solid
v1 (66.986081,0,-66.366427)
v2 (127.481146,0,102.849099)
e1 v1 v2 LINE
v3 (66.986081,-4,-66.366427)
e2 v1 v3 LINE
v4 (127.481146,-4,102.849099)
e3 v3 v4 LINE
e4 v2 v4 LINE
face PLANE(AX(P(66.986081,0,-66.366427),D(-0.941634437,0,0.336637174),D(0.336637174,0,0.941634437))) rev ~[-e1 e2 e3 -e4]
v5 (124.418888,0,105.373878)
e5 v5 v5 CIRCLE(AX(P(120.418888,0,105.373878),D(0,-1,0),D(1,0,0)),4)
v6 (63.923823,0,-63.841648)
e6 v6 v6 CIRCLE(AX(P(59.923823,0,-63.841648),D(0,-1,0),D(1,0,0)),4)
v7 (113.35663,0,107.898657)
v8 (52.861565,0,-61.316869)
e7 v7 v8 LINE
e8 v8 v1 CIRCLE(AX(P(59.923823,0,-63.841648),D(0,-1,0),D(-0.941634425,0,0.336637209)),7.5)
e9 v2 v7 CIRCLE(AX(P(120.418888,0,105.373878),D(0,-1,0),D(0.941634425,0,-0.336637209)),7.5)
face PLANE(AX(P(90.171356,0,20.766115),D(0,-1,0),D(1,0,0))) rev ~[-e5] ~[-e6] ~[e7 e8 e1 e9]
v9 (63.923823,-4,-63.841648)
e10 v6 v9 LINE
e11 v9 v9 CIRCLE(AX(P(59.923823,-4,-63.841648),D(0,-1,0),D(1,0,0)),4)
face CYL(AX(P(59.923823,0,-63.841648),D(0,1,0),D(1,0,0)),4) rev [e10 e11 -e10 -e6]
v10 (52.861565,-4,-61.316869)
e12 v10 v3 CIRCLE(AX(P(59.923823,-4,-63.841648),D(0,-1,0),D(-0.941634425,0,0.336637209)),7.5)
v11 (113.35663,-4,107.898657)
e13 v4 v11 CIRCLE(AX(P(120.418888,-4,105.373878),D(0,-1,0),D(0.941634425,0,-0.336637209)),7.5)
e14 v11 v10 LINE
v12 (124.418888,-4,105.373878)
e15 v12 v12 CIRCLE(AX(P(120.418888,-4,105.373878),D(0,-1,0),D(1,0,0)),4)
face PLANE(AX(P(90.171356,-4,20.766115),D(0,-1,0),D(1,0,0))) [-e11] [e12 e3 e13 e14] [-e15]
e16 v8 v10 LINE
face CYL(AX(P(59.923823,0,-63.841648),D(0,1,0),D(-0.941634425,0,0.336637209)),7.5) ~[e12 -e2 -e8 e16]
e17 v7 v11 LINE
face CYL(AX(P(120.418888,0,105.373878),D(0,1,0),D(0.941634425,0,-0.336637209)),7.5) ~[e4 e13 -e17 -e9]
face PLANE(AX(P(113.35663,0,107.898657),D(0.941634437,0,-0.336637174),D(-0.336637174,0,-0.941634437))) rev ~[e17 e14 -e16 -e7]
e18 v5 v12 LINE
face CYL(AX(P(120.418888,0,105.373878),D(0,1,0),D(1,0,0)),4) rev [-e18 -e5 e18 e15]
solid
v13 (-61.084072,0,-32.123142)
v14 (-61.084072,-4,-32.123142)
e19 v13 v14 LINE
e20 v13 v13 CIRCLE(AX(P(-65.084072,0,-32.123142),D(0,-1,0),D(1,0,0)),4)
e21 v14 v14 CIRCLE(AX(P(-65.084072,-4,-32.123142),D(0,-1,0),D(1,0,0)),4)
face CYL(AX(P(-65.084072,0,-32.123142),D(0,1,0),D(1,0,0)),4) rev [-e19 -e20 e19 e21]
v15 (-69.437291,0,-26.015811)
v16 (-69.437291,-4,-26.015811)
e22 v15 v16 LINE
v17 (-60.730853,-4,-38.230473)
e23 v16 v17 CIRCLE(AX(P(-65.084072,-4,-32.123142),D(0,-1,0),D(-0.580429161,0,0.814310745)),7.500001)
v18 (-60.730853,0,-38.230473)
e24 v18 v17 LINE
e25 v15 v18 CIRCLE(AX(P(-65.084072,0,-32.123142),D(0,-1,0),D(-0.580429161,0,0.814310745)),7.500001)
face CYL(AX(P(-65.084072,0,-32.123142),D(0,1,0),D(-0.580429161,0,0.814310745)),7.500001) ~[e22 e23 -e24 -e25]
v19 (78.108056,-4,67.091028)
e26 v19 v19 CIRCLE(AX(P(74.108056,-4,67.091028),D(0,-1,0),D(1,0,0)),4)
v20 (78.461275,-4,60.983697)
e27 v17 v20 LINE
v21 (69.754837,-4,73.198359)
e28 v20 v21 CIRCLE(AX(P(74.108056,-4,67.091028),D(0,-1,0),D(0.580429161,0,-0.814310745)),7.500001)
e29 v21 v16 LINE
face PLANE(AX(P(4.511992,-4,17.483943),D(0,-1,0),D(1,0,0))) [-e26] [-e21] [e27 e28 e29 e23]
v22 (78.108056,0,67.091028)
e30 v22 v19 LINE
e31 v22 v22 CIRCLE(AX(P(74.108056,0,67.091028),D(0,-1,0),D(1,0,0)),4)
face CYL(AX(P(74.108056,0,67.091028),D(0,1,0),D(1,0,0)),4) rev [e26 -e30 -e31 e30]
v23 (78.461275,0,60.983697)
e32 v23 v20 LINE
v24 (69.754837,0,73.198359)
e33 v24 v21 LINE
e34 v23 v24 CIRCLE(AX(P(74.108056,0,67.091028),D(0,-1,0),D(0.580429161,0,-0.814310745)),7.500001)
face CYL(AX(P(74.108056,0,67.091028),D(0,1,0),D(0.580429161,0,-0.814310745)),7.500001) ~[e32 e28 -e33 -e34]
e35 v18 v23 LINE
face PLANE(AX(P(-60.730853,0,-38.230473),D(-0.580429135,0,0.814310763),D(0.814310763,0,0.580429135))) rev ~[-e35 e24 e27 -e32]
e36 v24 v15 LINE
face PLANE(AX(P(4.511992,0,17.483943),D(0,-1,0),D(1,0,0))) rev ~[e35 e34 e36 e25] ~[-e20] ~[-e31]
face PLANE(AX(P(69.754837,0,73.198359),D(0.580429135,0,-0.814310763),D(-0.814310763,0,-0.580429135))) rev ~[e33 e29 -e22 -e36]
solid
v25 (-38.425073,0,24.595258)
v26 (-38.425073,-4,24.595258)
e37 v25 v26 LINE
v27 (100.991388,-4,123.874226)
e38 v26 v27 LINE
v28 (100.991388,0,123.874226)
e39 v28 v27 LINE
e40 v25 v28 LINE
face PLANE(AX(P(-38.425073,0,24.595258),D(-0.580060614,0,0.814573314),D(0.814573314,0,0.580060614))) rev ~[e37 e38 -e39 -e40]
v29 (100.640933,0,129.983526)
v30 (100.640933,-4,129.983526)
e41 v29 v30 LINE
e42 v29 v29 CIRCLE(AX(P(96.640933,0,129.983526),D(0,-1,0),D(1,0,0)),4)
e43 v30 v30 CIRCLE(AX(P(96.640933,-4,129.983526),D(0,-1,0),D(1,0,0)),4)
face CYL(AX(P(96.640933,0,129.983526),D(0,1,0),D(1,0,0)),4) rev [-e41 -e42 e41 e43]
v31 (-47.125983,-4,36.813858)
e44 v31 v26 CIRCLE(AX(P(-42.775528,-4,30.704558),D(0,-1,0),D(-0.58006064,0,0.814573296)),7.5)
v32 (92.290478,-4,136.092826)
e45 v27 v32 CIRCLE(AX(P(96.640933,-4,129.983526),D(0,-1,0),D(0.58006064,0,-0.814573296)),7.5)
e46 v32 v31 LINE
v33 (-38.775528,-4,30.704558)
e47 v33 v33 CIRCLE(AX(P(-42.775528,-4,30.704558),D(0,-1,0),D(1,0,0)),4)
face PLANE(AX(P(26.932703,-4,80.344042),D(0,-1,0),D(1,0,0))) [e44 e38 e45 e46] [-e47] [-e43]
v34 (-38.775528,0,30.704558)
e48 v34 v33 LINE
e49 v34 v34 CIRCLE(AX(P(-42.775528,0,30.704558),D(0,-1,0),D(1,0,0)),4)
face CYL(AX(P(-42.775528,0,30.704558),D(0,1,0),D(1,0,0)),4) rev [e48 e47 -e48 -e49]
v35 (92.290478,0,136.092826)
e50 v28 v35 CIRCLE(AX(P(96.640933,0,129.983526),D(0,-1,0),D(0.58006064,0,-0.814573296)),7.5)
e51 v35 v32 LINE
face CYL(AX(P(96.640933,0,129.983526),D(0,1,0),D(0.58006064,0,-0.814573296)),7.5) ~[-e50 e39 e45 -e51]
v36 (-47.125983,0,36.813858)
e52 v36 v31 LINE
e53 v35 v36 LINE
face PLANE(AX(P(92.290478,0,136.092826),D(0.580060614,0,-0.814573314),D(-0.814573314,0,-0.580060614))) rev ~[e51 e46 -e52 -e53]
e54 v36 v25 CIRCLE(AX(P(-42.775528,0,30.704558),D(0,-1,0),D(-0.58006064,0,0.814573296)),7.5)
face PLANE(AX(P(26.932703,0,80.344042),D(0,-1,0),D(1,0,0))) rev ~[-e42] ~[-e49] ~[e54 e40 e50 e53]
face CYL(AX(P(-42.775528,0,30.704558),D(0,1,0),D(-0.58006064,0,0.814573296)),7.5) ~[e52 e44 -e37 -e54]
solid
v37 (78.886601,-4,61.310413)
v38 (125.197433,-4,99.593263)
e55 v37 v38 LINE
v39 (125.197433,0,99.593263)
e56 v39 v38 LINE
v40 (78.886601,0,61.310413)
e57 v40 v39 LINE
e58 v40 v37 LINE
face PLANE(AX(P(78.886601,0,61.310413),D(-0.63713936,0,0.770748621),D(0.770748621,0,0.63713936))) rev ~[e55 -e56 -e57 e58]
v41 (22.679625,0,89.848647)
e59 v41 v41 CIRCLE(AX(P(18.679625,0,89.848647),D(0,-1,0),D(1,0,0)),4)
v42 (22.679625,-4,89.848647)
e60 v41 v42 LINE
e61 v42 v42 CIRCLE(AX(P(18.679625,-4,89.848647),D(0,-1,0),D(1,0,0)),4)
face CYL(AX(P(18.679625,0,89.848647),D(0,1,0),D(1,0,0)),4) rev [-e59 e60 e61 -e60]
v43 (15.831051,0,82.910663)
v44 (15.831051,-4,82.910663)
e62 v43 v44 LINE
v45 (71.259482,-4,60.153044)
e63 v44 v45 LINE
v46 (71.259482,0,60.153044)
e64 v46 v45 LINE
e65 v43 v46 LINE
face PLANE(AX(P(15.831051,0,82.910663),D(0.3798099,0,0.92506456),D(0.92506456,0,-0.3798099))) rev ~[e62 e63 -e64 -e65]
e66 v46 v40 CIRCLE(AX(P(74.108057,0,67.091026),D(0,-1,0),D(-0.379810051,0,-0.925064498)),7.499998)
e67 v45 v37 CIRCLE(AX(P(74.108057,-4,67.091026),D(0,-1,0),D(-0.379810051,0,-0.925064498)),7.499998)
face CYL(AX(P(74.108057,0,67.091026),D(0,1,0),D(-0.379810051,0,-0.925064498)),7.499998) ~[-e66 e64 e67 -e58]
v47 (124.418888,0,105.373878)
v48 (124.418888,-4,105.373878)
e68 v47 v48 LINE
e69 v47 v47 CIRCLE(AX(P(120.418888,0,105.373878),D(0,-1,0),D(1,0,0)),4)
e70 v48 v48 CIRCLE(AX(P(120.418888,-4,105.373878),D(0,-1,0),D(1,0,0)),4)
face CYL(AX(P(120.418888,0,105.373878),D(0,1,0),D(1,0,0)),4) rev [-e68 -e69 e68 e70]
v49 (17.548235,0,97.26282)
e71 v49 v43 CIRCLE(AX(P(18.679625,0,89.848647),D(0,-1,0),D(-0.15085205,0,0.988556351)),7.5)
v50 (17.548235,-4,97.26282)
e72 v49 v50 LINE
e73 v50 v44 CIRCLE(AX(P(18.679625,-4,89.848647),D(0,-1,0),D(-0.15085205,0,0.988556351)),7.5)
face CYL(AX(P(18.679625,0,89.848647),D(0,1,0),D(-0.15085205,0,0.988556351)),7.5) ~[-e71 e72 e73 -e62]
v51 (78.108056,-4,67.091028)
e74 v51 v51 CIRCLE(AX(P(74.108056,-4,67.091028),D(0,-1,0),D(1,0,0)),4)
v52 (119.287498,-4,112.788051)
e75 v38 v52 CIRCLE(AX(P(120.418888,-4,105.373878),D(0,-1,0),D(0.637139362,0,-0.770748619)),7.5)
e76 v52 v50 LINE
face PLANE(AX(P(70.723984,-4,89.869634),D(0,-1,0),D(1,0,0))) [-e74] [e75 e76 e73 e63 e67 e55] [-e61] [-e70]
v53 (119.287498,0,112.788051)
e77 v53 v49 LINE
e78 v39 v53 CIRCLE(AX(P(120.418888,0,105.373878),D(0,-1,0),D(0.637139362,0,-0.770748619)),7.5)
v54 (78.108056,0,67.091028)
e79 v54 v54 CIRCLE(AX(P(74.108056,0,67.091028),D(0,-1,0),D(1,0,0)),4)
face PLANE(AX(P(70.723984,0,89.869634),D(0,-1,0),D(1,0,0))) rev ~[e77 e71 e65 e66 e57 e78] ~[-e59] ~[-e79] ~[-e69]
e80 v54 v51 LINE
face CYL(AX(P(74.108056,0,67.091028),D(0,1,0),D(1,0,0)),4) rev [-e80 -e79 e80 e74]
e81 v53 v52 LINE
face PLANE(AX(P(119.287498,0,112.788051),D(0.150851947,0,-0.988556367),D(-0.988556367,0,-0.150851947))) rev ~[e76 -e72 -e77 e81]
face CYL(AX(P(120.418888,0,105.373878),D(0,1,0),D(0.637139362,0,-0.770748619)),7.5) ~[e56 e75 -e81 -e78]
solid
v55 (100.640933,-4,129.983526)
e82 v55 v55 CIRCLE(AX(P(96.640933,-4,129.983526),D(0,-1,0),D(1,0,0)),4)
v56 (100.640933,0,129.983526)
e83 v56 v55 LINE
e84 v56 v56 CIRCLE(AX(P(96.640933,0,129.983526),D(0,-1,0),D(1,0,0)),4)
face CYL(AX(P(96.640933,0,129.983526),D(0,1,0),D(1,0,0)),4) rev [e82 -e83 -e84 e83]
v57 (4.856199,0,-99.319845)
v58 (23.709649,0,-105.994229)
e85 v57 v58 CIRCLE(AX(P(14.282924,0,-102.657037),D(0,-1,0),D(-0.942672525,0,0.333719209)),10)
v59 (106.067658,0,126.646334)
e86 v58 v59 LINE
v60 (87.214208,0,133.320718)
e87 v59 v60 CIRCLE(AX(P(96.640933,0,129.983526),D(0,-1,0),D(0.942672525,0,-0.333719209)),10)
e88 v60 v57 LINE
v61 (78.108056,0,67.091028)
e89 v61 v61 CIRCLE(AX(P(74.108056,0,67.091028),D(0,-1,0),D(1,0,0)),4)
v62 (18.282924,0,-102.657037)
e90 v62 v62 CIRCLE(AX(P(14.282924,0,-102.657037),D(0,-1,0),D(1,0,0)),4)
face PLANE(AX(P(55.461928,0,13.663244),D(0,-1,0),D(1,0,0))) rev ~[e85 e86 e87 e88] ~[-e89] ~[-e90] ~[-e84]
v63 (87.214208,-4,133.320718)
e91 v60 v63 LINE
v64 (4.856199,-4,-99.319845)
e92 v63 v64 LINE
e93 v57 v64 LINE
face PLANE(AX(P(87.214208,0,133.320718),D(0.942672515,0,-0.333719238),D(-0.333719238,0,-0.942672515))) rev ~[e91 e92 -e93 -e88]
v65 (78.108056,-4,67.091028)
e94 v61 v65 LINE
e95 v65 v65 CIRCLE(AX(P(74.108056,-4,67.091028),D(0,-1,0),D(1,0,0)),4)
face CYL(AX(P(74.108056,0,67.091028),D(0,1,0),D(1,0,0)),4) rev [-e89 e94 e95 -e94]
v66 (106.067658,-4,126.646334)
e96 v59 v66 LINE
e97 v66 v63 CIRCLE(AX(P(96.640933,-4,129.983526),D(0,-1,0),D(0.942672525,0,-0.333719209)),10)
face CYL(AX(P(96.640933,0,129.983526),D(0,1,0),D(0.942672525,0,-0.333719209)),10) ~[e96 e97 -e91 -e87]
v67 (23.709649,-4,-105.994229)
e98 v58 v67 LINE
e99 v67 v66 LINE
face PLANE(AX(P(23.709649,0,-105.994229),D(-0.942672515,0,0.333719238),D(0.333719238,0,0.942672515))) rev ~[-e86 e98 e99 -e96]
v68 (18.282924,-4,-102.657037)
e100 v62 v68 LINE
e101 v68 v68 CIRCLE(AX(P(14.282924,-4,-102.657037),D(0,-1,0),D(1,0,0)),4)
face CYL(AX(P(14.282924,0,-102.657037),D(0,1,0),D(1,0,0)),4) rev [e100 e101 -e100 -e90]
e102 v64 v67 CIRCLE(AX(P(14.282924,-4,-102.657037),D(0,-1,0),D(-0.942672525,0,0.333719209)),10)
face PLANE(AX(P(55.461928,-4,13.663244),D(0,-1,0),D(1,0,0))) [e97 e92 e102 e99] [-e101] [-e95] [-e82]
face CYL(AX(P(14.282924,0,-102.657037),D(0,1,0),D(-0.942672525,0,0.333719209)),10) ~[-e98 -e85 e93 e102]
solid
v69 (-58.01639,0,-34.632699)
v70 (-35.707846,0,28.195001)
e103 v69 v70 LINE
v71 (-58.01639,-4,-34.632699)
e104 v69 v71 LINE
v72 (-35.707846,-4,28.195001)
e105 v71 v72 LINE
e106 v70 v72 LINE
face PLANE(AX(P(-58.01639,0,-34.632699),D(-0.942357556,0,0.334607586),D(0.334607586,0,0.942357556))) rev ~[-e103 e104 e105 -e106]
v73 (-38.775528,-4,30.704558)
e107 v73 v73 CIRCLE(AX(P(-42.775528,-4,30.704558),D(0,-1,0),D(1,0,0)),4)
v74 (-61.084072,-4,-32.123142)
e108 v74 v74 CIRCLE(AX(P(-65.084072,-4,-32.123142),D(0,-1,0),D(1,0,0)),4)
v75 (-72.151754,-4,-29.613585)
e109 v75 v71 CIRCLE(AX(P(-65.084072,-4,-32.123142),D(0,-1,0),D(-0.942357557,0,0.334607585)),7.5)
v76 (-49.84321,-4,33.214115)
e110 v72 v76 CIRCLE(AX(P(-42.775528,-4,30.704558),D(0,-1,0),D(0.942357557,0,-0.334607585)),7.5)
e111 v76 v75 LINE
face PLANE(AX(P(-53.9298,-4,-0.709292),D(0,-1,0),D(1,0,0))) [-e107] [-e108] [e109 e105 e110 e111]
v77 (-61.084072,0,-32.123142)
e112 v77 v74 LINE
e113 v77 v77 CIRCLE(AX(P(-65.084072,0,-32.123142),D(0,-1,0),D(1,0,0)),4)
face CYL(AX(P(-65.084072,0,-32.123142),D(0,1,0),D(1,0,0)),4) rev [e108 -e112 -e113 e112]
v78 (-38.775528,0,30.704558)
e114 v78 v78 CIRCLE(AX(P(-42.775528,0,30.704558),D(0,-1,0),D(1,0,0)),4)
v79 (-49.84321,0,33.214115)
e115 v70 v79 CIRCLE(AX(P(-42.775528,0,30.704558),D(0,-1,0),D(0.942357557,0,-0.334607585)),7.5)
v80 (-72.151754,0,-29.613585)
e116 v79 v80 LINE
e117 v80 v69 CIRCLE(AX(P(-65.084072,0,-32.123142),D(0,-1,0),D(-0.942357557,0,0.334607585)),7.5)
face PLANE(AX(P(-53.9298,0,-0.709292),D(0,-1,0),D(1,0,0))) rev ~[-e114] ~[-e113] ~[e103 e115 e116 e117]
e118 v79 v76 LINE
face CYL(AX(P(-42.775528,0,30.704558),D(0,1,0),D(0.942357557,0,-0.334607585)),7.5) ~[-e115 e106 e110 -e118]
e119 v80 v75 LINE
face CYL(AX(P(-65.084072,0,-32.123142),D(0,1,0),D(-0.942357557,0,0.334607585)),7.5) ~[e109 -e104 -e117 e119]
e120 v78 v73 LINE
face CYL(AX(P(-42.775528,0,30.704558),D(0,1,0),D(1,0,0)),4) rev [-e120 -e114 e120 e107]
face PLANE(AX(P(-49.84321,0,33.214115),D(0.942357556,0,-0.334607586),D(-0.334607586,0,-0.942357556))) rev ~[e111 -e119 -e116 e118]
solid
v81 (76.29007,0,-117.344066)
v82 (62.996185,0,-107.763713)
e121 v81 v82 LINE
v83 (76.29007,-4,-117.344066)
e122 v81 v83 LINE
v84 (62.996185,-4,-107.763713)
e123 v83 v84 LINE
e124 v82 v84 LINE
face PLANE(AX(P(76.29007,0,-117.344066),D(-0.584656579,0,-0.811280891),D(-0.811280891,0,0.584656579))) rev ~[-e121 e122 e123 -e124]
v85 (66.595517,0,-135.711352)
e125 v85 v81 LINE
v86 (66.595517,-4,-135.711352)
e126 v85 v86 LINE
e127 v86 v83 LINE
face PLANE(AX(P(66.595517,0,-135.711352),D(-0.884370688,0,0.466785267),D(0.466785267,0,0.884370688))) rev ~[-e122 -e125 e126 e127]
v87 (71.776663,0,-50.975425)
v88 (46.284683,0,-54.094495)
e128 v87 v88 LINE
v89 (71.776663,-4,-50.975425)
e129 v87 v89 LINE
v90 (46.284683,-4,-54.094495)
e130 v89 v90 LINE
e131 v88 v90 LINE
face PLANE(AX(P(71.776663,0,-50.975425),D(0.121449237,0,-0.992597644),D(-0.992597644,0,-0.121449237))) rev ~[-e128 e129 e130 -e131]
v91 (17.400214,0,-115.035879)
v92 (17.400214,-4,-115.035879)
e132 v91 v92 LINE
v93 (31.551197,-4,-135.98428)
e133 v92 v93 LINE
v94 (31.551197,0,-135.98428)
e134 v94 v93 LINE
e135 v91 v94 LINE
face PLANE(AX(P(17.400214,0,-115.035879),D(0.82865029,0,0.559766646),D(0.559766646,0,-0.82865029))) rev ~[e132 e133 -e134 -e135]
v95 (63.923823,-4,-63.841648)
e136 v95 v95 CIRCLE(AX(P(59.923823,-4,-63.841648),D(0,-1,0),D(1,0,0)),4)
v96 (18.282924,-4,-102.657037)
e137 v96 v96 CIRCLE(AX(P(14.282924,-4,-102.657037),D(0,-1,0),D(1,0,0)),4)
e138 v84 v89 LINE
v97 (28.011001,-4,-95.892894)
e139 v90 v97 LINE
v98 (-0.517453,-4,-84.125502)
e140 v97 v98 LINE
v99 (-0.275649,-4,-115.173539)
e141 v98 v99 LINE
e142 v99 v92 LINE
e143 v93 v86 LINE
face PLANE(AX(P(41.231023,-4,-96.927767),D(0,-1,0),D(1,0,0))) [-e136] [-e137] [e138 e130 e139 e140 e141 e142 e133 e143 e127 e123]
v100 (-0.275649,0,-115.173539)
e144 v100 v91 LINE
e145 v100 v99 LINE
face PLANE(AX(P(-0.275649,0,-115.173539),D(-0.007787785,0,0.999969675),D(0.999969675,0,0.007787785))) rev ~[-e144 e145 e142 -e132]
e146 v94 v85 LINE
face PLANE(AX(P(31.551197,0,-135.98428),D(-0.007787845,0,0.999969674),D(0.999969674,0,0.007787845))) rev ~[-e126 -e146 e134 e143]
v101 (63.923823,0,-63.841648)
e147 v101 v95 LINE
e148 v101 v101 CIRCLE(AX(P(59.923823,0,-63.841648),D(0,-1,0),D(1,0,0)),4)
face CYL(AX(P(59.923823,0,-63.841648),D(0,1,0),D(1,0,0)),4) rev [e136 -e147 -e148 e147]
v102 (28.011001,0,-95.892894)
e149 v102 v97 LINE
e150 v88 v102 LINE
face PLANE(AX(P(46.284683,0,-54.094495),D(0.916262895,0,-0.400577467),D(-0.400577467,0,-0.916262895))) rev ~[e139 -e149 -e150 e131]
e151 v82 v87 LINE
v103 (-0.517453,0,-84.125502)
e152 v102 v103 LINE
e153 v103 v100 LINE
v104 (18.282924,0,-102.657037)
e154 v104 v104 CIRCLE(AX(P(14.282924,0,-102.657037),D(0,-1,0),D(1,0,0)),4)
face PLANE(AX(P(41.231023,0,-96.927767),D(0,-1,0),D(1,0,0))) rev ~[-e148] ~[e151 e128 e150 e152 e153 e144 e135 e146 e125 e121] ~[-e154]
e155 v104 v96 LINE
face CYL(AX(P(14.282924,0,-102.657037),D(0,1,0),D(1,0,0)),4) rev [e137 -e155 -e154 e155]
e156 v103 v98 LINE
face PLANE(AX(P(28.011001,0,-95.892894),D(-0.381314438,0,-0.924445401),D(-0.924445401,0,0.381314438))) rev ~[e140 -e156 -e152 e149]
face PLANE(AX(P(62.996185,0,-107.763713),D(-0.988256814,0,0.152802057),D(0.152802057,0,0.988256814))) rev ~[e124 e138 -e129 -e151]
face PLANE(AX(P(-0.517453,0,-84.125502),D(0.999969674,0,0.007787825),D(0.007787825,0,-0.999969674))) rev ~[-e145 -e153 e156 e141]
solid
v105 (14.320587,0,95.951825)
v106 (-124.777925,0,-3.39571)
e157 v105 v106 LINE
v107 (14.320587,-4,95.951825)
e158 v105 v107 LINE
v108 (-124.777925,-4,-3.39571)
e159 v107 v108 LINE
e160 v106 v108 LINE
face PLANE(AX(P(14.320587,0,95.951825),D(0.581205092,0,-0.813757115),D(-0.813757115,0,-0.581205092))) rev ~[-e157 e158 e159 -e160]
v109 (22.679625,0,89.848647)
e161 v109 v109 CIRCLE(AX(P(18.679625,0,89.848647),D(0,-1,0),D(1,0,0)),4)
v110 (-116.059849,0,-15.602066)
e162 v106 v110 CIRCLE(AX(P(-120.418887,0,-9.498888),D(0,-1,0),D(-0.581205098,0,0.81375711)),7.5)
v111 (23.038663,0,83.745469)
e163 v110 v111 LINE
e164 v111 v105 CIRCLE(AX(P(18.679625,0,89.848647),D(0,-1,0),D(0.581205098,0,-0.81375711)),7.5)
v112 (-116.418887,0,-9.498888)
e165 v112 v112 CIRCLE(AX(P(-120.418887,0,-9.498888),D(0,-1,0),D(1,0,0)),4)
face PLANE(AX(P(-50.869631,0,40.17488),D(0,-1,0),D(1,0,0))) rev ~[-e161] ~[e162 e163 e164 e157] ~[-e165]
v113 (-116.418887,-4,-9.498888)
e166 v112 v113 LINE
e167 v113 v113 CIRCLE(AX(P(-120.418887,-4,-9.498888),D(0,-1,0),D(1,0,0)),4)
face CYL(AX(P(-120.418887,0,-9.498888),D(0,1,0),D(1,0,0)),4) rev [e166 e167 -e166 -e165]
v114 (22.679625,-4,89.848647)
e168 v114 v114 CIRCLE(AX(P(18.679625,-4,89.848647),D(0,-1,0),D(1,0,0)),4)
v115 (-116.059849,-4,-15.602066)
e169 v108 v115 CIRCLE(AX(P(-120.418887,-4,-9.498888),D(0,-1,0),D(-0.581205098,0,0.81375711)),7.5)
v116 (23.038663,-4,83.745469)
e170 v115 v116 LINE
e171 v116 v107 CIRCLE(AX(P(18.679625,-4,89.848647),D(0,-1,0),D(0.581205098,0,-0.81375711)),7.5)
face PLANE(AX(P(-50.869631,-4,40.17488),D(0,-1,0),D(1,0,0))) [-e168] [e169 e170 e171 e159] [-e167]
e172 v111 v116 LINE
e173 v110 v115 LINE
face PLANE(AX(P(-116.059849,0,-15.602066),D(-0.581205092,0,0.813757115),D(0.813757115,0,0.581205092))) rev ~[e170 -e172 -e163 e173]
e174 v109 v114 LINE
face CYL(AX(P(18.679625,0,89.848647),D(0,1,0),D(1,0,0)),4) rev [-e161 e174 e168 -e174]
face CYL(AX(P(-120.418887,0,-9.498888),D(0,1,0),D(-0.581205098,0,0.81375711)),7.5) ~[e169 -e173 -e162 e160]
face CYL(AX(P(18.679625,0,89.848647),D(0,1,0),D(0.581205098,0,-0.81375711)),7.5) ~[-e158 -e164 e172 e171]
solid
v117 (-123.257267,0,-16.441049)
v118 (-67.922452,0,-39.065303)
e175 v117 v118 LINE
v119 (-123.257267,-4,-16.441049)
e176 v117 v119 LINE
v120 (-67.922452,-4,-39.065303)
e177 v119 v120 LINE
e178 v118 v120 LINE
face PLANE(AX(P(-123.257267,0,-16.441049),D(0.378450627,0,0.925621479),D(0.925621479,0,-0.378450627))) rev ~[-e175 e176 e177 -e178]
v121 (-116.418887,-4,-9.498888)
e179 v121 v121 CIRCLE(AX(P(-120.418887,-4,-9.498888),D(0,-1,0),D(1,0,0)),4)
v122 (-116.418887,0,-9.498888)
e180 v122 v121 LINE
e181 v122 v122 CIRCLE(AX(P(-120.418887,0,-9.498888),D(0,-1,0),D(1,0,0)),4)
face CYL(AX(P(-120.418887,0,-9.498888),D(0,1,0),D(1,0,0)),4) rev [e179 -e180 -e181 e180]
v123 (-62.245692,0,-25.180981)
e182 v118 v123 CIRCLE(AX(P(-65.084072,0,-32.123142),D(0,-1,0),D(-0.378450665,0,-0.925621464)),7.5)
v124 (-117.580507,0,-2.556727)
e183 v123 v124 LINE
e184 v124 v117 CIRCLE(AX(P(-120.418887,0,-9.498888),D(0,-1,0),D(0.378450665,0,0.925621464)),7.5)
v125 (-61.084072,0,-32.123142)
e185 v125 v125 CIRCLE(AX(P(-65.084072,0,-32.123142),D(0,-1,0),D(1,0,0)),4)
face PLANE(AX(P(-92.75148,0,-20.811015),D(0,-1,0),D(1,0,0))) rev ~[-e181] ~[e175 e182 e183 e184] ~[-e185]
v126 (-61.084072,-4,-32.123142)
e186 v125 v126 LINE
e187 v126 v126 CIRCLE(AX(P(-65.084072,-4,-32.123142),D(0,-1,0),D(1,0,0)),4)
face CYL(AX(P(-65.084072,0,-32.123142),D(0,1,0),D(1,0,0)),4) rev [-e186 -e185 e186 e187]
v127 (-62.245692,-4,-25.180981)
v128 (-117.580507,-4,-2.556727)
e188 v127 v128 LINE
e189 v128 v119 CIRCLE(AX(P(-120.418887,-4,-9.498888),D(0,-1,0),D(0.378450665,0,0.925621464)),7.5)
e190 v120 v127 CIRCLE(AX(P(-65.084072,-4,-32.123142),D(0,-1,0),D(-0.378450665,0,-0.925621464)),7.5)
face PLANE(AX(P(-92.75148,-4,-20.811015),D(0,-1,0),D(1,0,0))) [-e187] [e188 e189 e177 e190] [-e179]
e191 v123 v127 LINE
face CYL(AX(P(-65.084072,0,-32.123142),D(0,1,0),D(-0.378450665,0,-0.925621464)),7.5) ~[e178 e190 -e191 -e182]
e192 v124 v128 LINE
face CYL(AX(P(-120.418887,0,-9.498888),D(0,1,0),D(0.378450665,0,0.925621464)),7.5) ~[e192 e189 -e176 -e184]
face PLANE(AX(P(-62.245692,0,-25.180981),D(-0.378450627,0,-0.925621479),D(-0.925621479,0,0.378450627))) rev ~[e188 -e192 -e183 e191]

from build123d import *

# Parameters (mm, degrees)
F1_R      = 4
F2_DEPTH  = 4
F3_R      = 4
F4_DEPTH  = 4
F5_R      = 4
F6_DEPTH  = 4
F7_R      = 4
F8_DEPTH  = 4
F9_R      = 4
F10_DEPTH = 4
F11_R     = 4
F12_DEPTH = 4
F13_R     = 4
F14_DEPTH = 4
F15_R     = 4
F16_DEPTH = 4
F17_R     = 4
F18_DEPTH = 4


with BuildPart() as f2:
    # F1 (on Front) → F2 (new body)
    with BuildSketch(Plane.XZ):
        with BuildLine():
            Line((-123.257267, -16.441049), (-67.922452, -39.065303))
            ThreePointArc((-67.922452, -39.065303), (-58.141911, -34.961522), (-62.245692, -25.180981))
            Line((-62.245692, -25.180981), (-117.580507, -2.556727))
            ThreePointArc((-117.580507, -2.556727), (-127.361048, -6.660508), (-123.257267, -16.441049))
        make_face()
        with Locations((-65.084072, -32.123142)):
            Circle(F1_R, mode=Mode.SUBTRACT)
        with Locations((-120.418887, -9.498888)):
            Circle(F1_R, mode=Mode.SUBTRACT)
    extrude(amount=F2_DEPTH)


with BuildPart() as f4:
    # F3 (on Front) → F4 (new body)
    with BuildSketch(Plane.XZ):
        with BuildLine():
            Line((-49.84321, 33.214115), (-72.151754, -29.613585))
            ThreePointArc((-72.151754, -29.613585), (-67.593629, -39.190824), (-58.01639, -34.632699))
            Line((-58.01639, -34.632699), (-35.707846, 28.195001))
            ThreePointArc((-35.707846, 28.195001), (-40.265971, 37.77224), (-49.84321, 33.214115))
        make_face()
        with Locations((-65.084072, -32.123142)):
            Circle(F3_R, mode=Mode.SUBTRACT)
        with Locations((-42.775528, 30.704558)):
            Circle(F3_R, mode=Mode.SUBTRACT)
    extrude(amount=F4_DEPTH)


with BuildPart() as f6:
    # F5 (on Front) → F6 (new body)
    with BuildSketch(Plane.XZ):
        with BuildLine():
            Line((14.320587, 95.951825), (-124.777925, -3.39571))
            ThreePointArc((-124.777925, -3.39571), (-126.522065, -13.857926), (-116.059849, -15.602066))
            Line((-116.059849, -15.602066), (23.038663, 83.745469))
            ThreePointArc((23.038663, 83.745469), (24.782803, 94.207685), (14.320587, 95.951825))
        make_face()
        with Locations((-120.418887, -9.498888)):
            Circle(F5_R, mode=Mode.SUBTRACT)
        with Locations((18.679625, 89.848647)):
            Circle(F5_R, mode=Mode.SUBTRACT)
    extrude(amount=F6_DEPTH)


with BuildPart() as f8:
    # F7 (on Front) → F8 (new body)
    with BuildSketch(Plane.XZ):
        with BuildLine():
            Line((-60.730853, -38.230473), (78.461275, 60.983697))
            ThreePointArc((78.461275, 60.983697), (80.215387, 71.444247), (69.754837, 73.198359))
            Line((69.754837, 73.198359), (-69.437291, -26.015811))
            ThreePointArc((-69.437291, -26.015811), (-71.191403, -36.476361), (-60.730853, -38.230473))
        make_face()
        with Locations((-65.084072, -32.123142)):
            Circle(F7_R, mode=Mode.SUBTRACT)
        with Locations((74.108056, 67.091028)):
            Circle(F7_R, mode=Mode.SUBTRACT)
    extrude(amount=F8_DEPTH)


with BuildPart() as f10:
    # F9 (on Front) → F10 (new body)
    with BuildSketch(Plane.XZ):
        with BuildLine():
            Line((15.831051, 82.910663), (71.259482, 60.153044))
            ThreePointArc((71.259482, 60.153044), (75.233255, 59.675913), (78.886601, 61.310413))
            Line((78.886601, 61.310413), (125.197433, 99.593263))
            ThreePointArc((125.197433, 99.593263), (127.26367, 108.43965), (119.287498, 112.788051))
            Line((119.287498, 112.788051), (17.548235, 97.26282))
            ThreePointArc((17.548235, 97.26282), (11.232738, 90.739641), (15.831051, 82.910663))
        make_face()
        with Locations((74.108056, 67.091028)):
            Circle(F9_R, mode=Mode.SUBTRACT)
        with Locations((18.679625, 89.848647)):
            Circle(F9_R, mode=Mode.SUBTRACT)
        with Locations((120.418888, 105.373878)):
            Circle(F9_R, mode=Mode.SUBTRACT)
    extrude(amount=F10_DEPTH)


with BuildPart() as f12:
    # F11 (on Front) → F12 (new body)
    with BuildSketch(Plane.XZ):
        with BuildLine():
            Line((23.709649, -105.994229), (106.067658, 126.646334))
            ThreePointArc((106.067658, 126.646334), (99.978125, 139.410251), (87.214208, 133.320718))
            Line((87.214208, 133.320718), (4.856199, -99.319845))
            ThreePointArc((4.856199, -99.319845), (10.945732, -112.083762), (23.709649, -105.994229))
        make_face()
        with Locations((14.282924, -102.657037)):
            Circle(F11_R, mode=Mode.SUBTRACT)
        with Locations((74.108056, 67.091028)):
            Circle(F11_R, mode=Mode.SUBTRACT)
        with Locations((96.640933, 129.983526)):
            Circle(F11_R, mode=Mode.SUBTRACT)
    extrude(amount=F12_DEPTH)


with BuildPart() as f14:
    # F13 (on Front) → F14 (new body)
    with BuildSketch(Plane.XZ):
        with BuildLine():
            Line((92.290478, 136.092826), (-47.125983, 36.813858))
            ThreePointArc((-47.125983, 36.813858), (-48.884828, 26.354103), (-38.425073, 24.595258))
            Line((-38.425073, 24.595258), (100.991388, 123.874226))
            ThreePointArc((100.991388, 123.874226), (102.750233, 134.333981), (92.290478, 136.092826))
        make_face()
        with Locations((-42.775528, 30.704558)):
            Circle(F13_R, mode=Mode.SUBTRACT)
        with Locations((96.640933, 129.983526)):
            Circle(F13_R, mode=Mode.SUBTRACT)
    extrude(amount=F14_DEPTH)


with BuildPart() as f16:
    # F15 (on Front) → F16 (new body)
    with BuildSketch(Plane.XZ):
        with BuildLine():
            Line((66.986081, -66.366427), (127.481146, 102.849099))
            ThreePointArc((127.481146, 102.849099), (122.943667, 112.436136), (113.35663, 107.898657))
            Line((113.35663, 107.898657), (52.861565, -61.316869))
            ThreePointArc((52.861565, -61.316869), (57.399044, -70.903906), (66.986081, -66.366427))
        make_face()
        with Locations((59.923823, -63.841648)):
            Circle(F15_R, mode=Mode.SUBTRACT)
        with Locations((120.418888, 105.373878)):
            Circle(F15_R, mode=Mode.SUBTRACT)
    extrude(amount=F16_DEPTH)


with BuildPart() as f18:
    # F17 (on Front) → F18 (new body)
    with BuildSketch(Plane.XZ):
        Polygon((28.011001, -95.892894), (-0.517453, -84.125502), (-0.275649, -115.173539), (17.400214, -115.035879), (31.551197, -135.98428), (66.595517, -135.711352), (76.29007, -117.344066), (62.996185, -107.763713), (71.776663, -50.975425), (46.284683, -54.094495), align=None)
        with Locations((14.282924, -102.657037)):
            Circle(F17_R, mode=Mode.SUBTRACT)
        with Locations((59.923823, -63.841648)):
            Circle(F17_R, mode=Mode.SUBTRACT)
    extrude(amount=F18_DEPTH)


solid = Compound([f2.part, f4.part, f6.part, f8.part, f10.part, f12.part, f14.part, f16.part, f18.part])
